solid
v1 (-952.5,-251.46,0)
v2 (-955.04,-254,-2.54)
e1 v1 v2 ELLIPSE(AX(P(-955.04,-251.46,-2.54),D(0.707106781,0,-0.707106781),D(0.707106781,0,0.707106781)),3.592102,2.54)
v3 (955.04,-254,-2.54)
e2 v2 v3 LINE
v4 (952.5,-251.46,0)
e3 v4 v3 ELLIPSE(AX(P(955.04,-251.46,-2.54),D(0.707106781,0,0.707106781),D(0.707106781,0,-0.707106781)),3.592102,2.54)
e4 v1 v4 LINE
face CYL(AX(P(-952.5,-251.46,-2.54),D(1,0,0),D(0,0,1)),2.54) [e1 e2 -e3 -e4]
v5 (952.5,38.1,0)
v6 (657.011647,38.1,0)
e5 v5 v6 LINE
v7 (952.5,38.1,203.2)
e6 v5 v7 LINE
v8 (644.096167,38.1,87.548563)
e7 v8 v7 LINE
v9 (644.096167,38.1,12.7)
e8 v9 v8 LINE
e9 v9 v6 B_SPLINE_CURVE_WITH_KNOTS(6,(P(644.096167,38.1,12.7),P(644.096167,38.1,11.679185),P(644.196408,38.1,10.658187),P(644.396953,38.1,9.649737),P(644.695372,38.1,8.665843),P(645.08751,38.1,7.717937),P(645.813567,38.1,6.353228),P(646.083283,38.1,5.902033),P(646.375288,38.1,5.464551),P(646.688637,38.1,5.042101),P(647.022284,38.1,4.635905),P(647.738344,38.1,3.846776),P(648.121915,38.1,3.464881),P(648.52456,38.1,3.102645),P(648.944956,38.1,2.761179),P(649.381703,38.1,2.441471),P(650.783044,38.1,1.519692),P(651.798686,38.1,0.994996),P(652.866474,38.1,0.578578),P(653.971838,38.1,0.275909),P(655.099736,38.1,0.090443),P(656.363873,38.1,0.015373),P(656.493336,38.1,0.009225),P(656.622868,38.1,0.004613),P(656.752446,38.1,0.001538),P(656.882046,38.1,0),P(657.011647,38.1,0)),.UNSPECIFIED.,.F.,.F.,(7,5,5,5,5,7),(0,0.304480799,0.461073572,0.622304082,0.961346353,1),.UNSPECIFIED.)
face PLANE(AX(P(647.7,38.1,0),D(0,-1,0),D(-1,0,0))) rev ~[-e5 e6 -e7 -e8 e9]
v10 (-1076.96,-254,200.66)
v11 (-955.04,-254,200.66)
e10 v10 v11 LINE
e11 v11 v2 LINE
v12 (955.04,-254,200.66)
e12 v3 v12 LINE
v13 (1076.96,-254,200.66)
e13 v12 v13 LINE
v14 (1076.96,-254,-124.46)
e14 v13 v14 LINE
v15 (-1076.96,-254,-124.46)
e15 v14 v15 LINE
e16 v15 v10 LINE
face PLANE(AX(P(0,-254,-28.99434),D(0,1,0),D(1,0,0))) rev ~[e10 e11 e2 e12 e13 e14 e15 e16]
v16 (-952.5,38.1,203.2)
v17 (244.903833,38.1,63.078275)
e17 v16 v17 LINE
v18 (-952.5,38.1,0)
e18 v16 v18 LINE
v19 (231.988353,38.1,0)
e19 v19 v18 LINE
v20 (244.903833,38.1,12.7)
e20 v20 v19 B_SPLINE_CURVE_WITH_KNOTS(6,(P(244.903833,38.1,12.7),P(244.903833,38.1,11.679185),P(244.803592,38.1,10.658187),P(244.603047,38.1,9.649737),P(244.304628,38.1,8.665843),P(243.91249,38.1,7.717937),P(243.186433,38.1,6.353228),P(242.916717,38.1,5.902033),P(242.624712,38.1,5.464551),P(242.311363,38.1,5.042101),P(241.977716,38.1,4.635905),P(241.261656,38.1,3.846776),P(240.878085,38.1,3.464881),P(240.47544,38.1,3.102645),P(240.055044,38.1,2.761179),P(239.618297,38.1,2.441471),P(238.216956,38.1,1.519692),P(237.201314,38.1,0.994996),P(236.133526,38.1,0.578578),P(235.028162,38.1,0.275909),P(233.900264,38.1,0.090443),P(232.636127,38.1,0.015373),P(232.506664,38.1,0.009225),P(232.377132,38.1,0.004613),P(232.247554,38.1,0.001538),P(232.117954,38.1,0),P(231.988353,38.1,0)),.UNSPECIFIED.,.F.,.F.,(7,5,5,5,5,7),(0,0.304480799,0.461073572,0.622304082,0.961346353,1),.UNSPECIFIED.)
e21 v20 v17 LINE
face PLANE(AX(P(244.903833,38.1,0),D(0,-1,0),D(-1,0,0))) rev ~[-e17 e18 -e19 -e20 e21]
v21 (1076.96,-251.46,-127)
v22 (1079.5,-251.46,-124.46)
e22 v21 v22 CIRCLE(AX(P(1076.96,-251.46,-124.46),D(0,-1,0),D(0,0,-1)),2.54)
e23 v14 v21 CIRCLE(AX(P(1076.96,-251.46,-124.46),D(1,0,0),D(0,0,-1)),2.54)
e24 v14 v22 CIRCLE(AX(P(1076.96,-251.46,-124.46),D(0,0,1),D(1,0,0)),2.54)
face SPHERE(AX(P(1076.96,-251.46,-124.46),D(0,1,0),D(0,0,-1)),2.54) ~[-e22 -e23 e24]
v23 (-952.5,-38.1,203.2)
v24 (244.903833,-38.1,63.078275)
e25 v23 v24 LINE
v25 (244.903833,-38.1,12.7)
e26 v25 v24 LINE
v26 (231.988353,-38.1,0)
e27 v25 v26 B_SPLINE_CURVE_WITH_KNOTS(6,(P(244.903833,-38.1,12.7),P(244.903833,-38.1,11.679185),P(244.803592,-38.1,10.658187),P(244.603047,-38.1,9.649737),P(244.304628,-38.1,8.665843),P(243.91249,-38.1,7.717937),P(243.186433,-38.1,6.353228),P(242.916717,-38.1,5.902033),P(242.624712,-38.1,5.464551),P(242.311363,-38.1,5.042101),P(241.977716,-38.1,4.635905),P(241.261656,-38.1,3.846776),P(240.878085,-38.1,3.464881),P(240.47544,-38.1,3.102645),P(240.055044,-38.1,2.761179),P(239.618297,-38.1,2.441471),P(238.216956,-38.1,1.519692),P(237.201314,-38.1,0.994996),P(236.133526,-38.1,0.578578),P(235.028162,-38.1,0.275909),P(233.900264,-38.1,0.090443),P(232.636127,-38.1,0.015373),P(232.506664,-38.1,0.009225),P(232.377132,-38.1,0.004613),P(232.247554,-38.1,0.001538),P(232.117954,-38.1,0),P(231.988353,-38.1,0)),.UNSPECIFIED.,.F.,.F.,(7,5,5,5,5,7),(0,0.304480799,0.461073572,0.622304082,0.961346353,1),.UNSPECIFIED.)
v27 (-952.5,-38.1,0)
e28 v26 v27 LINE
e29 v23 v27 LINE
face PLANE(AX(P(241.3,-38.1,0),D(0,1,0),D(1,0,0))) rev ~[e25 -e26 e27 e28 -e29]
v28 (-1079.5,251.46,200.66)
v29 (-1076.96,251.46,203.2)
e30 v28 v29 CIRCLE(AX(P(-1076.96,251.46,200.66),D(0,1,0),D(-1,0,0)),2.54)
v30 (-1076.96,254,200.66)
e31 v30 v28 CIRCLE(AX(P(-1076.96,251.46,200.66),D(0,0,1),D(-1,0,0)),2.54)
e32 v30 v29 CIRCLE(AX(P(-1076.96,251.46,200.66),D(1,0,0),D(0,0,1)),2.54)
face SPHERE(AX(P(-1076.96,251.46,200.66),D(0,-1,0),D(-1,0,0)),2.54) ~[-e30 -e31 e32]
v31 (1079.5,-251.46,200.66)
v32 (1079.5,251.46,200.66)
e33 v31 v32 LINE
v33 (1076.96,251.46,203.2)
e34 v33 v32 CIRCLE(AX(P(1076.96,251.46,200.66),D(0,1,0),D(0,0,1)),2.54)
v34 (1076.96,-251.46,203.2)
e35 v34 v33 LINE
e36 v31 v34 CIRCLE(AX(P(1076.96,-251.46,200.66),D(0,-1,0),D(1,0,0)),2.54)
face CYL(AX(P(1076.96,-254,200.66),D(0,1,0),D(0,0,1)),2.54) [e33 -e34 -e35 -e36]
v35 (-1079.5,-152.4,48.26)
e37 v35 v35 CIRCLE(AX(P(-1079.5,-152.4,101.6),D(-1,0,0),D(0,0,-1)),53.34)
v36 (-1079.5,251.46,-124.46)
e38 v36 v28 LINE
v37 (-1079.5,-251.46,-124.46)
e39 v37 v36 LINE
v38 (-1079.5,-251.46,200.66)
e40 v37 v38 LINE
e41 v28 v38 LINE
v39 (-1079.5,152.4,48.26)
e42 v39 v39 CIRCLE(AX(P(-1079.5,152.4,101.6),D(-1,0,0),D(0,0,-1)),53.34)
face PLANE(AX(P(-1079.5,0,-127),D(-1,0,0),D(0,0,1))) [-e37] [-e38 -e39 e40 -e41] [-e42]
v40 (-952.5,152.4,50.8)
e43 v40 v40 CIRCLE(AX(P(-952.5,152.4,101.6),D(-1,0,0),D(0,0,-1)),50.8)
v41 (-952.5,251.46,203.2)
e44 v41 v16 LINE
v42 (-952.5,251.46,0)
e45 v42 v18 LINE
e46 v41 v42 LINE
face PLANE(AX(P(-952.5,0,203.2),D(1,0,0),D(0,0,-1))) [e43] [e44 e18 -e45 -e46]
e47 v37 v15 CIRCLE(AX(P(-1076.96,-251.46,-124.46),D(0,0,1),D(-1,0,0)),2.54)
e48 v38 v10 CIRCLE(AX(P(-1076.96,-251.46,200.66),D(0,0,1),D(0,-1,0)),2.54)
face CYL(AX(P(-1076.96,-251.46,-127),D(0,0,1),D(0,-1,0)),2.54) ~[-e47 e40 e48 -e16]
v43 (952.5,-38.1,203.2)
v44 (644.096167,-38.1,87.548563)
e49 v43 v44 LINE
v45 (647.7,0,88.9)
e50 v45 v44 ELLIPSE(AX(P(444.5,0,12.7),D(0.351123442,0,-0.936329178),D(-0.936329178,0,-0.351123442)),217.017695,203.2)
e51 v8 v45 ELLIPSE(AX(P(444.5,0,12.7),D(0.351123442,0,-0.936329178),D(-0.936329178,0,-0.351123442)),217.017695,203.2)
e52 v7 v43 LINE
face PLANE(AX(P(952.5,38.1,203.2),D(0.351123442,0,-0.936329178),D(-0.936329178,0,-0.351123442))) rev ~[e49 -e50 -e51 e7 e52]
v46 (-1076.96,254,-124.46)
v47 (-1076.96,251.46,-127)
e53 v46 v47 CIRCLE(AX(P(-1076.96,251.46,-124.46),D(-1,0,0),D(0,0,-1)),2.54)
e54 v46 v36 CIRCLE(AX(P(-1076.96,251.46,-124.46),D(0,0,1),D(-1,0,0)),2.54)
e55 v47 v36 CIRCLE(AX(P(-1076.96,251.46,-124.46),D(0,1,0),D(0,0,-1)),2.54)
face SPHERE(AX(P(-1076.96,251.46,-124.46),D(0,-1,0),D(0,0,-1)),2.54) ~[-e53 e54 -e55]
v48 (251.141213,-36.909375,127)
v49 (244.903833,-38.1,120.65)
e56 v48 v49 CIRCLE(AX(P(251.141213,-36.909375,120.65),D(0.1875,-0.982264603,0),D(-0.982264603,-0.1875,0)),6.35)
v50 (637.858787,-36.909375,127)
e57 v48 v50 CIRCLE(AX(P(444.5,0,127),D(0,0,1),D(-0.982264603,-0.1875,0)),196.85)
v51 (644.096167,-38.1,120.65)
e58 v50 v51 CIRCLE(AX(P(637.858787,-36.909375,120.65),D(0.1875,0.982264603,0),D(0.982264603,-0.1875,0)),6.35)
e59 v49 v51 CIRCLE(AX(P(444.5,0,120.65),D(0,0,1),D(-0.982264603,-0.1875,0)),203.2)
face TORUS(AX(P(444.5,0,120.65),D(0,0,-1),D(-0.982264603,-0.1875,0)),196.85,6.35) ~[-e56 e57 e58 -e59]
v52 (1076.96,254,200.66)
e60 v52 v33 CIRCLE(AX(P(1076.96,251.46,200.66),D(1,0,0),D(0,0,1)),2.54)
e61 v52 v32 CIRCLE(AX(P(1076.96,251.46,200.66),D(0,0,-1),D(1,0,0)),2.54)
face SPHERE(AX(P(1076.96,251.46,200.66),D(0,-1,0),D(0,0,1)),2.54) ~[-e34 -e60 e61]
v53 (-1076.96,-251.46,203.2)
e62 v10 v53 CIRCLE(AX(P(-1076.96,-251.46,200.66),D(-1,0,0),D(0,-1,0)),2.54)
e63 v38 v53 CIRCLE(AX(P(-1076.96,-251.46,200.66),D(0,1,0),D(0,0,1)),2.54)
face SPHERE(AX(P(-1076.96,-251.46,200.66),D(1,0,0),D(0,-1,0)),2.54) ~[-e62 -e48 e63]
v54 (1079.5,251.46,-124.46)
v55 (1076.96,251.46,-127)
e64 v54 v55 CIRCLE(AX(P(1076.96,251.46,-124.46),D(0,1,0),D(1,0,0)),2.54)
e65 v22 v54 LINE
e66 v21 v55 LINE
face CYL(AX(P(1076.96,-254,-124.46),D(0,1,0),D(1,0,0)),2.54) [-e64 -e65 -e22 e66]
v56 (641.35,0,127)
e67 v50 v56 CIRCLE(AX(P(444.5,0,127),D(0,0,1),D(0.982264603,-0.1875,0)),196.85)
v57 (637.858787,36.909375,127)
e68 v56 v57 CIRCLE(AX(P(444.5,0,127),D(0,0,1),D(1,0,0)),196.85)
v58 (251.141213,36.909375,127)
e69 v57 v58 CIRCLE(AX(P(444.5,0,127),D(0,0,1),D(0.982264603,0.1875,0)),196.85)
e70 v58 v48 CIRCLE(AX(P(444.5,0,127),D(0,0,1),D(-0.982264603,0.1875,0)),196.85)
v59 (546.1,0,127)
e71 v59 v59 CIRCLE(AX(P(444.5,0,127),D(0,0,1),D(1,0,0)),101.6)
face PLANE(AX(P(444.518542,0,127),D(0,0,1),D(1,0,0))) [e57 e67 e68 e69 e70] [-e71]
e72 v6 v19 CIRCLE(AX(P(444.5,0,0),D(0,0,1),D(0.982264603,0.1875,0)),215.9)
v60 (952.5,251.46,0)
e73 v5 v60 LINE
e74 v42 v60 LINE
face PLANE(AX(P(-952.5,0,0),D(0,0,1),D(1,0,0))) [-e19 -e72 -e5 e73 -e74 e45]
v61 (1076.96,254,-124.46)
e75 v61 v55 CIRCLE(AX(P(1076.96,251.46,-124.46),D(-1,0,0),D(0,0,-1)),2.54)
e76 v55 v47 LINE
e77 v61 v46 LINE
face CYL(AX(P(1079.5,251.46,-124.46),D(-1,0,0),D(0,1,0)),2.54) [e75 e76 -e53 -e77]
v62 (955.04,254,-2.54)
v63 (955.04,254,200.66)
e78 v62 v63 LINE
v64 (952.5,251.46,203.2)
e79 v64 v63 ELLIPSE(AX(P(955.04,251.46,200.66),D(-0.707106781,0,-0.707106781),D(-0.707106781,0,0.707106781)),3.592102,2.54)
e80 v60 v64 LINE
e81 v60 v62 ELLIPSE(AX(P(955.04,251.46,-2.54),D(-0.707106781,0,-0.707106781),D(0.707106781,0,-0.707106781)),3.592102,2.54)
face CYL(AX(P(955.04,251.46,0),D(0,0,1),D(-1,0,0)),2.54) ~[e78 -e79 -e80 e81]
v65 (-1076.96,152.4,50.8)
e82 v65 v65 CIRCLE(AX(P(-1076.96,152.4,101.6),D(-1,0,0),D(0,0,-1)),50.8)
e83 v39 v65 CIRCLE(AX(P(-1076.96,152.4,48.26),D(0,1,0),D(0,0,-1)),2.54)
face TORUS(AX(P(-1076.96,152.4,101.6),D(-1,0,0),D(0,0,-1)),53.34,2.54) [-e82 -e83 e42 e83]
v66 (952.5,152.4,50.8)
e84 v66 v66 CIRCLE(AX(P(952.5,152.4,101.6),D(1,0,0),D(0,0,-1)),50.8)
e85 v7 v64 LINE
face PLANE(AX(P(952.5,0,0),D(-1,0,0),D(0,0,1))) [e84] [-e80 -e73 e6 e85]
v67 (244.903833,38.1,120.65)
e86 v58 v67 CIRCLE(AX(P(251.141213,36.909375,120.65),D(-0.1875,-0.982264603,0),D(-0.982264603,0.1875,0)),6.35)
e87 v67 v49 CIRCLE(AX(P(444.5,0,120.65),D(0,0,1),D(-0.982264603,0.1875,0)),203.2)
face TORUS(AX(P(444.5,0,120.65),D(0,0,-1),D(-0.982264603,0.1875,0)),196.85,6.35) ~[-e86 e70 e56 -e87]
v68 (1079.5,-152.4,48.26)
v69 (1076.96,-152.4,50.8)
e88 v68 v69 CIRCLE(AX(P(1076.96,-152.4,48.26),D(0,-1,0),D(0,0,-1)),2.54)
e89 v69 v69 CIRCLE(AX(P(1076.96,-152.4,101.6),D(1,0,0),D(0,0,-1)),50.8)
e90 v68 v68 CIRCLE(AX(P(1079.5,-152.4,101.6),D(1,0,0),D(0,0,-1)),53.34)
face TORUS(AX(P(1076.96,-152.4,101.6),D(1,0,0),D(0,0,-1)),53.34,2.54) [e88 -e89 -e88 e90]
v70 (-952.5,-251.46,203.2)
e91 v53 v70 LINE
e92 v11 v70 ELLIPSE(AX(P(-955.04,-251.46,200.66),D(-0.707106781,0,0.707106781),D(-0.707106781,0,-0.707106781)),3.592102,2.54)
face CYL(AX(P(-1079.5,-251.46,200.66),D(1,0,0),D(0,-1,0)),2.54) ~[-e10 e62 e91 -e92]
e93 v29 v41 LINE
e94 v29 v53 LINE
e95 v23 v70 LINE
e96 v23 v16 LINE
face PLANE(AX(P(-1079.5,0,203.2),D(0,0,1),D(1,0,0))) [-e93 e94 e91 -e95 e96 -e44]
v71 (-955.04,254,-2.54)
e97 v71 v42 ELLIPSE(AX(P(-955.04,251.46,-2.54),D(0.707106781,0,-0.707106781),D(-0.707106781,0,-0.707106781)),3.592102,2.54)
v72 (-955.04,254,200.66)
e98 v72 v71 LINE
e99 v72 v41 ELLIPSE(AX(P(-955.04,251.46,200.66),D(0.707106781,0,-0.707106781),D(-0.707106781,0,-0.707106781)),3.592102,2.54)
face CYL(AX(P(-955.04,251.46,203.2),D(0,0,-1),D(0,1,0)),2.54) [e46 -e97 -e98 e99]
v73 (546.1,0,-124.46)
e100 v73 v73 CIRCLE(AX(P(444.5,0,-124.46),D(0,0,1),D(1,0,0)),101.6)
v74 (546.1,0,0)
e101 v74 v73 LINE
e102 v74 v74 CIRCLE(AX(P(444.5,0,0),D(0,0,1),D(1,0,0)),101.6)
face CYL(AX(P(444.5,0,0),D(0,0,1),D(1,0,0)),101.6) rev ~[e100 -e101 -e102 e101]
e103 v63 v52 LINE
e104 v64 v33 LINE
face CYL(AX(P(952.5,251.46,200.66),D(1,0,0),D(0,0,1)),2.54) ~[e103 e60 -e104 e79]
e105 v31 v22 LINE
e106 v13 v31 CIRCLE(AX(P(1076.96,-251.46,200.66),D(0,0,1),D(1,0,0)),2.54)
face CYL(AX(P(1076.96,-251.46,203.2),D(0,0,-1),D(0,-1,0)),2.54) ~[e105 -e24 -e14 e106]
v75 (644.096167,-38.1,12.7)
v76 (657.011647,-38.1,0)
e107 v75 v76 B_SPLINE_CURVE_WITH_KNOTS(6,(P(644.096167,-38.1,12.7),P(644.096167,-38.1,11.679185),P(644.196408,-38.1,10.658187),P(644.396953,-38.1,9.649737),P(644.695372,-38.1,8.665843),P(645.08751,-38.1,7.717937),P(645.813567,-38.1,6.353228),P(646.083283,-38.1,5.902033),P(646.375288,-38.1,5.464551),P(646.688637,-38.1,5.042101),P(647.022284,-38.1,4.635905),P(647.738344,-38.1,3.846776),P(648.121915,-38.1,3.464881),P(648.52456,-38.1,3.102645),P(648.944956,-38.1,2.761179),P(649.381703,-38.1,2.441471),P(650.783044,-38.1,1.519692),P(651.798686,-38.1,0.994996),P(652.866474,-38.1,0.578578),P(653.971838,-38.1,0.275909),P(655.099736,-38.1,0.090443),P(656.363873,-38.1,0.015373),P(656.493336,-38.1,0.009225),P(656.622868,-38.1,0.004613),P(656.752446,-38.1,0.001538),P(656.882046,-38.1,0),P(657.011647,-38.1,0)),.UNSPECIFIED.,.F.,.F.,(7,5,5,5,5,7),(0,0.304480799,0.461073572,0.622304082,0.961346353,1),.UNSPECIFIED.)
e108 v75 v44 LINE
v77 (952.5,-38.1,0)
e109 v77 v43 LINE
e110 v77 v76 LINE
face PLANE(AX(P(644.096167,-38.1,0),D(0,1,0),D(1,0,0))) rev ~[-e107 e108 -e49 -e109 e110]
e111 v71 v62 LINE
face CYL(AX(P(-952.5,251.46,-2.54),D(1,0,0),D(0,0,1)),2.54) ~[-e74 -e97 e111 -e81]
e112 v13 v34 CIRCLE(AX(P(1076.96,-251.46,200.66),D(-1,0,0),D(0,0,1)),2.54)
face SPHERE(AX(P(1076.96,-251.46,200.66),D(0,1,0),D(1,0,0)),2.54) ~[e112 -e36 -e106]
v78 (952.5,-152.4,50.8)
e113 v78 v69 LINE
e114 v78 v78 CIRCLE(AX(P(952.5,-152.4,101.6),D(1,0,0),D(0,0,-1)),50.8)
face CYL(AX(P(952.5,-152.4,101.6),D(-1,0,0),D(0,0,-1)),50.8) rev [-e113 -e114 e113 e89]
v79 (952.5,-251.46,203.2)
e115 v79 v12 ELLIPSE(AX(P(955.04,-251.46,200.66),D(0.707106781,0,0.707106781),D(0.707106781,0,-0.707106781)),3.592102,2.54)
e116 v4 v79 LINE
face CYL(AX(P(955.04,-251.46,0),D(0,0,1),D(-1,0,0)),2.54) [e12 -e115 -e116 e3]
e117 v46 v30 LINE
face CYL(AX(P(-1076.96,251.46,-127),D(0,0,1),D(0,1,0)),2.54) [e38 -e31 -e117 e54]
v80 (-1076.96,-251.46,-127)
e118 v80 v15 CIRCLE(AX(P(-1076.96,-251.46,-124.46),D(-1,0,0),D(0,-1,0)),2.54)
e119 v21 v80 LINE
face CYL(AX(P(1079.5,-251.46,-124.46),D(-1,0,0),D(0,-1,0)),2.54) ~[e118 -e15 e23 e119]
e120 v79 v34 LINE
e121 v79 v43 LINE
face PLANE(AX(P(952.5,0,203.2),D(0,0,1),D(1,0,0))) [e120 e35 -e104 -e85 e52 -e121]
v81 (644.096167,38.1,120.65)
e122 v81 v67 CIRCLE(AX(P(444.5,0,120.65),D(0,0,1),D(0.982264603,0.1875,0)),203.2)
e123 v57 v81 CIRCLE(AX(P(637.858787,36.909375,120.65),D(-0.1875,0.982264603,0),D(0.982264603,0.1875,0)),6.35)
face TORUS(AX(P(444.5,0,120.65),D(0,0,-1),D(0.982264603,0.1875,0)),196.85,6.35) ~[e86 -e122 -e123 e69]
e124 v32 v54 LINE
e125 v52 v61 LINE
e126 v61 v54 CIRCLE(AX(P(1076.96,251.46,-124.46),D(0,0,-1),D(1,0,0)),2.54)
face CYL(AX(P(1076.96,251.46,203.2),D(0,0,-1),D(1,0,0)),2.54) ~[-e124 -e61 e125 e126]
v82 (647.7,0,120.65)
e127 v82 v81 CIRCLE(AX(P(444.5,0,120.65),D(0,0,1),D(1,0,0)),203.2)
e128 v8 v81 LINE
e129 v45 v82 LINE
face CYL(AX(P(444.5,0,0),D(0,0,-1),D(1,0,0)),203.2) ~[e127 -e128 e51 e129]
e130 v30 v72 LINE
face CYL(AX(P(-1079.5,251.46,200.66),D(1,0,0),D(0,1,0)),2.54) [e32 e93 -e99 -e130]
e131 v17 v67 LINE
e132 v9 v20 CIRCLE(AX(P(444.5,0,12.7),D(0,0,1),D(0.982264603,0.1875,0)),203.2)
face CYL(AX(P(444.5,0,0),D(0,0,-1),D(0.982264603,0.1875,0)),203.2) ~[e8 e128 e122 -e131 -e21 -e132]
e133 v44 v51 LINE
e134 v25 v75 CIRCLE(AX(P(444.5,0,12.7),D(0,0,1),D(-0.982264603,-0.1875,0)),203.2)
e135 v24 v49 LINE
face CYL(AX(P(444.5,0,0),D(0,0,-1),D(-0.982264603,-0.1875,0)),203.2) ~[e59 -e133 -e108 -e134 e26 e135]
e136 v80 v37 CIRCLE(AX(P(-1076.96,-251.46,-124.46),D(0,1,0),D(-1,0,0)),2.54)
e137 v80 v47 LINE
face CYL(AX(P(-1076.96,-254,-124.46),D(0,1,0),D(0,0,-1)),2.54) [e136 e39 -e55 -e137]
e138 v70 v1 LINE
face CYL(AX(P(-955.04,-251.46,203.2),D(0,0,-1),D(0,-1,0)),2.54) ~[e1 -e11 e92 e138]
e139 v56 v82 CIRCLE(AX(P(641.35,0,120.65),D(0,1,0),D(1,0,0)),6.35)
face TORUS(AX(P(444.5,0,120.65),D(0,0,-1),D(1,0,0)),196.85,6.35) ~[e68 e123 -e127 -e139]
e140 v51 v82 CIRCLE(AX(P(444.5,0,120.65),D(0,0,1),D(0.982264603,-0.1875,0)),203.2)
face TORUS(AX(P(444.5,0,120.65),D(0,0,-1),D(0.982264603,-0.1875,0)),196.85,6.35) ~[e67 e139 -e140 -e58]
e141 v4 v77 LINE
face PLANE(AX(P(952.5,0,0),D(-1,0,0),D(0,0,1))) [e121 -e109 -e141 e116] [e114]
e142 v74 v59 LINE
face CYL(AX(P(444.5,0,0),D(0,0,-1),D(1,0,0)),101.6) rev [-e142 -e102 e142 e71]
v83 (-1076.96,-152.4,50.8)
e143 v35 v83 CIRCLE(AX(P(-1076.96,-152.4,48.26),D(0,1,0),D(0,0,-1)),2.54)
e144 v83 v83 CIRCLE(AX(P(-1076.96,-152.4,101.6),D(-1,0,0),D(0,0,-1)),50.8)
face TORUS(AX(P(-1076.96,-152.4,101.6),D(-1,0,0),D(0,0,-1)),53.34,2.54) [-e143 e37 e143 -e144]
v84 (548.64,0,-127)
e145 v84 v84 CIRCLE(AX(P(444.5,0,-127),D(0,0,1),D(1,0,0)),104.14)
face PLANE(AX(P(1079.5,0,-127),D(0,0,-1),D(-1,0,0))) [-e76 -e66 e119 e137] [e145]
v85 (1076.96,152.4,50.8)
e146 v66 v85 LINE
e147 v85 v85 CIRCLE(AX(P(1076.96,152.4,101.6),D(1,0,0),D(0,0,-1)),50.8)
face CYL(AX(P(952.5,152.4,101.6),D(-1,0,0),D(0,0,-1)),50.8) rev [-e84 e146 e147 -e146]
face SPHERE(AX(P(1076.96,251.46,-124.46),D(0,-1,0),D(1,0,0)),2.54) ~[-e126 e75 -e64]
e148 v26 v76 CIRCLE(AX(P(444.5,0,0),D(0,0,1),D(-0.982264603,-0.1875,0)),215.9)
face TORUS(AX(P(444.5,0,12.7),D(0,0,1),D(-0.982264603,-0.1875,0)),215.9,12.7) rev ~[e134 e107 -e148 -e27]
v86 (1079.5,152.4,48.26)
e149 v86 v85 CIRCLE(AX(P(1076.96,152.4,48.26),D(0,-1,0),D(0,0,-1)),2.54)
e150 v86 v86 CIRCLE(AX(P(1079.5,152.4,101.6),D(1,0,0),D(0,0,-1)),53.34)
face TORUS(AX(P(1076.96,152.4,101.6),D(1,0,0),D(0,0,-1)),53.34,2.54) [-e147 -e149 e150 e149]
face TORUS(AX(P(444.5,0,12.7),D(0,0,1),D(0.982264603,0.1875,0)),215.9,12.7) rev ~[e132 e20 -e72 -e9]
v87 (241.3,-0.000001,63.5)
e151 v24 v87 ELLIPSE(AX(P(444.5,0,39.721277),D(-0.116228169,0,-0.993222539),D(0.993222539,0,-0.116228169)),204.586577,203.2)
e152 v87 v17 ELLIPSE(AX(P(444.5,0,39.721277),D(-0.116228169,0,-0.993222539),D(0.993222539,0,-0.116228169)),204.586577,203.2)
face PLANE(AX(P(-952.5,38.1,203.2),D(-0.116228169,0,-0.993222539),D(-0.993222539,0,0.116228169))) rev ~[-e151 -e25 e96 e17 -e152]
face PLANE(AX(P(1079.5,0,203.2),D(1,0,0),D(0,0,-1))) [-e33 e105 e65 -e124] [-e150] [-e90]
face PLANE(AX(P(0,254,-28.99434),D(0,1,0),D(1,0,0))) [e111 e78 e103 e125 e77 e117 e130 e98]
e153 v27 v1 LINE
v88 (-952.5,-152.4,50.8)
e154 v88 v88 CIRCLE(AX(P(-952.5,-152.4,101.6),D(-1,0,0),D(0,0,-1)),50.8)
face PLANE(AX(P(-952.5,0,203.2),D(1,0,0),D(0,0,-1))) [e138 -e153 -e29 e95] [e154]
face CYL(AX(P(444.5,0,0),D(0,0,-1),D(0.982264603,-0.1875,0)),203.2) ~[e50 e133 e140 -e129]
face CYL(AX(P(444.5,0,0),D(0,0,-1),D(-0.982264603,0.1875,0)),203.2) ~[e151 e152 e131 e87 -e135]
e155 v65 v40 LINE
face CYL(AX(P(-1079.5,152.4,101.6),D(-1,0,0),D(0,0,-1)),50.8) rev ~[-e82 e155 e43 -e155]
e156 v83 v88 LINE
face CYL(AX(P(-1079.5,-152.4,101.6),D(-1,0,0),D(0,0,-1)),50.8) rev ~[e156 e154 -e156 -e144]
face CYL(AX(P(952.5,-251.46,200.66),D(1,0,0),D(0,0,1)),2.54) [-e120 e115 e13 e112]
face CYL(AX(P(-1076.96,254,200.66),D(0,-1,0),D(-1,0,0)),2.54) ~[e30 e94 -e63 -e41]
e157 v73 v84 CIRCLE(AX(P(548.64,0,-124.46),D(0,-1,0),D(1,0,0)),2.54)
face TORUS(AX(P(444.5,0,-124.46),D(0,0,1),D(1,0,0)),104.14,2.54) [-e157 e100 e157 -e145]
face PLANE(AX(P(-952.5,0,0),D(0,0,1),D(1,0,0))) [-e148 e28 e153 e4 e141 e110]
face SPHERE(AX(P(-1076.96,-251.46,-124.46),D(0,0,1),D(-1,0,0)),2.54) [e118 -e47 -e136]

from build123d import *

# Parameters (mm, degrees)
BOSS_EXTRUDE1_DEPTH  = 254
BOSS_EXTRUDE2_DEPTH  = 38.1
SKETCH4_R            = 101.6
CUT_EXTRUDE1_DEPTH   = 1128.442455294
BOSS_EXTRUDE11_REACH = 1129.442
BOSS_EXTRUDE12_REACH = 1129.442
SKETCH12_R           = 101.6
BOSS_EXTRUDE13_DEPTH = 127
CUT_EXTRUDE3_START   = -127
SKETCH19_R           = 50.8
CUT_EXTRUDE3_DEPTH   = 127
SKETCH21_R           = 50.8
CUT_EXTRUDE4_DEPTH   = 127
FILLET1_R            = 2.54
FILLET2_R            = 6.35
FILLET3_R            = 12.7


with BuildPart() as part:
    # Sketch1 → Boss-Extrude1 (new, symmetric)
    with BuildSketch(Plane(origin=(0, 0, 0), x_dir=(1, 0, 0), z_dir=(0, 1, 0))):
        Polygon((-952.5, 0), (952.5, 0), (952.5, -203.2), (1079.5, -203.2), (1079.5, 127), (-1079.5, 127), (-1079.5, -203.2), (-952.5, -203.2), align=None)
    extrude(amount=BOSS_EXTRUDE1_DEPTH, both=True)

    # Sketch2 → Boss-Extrude2 (add, symmetric)
    with BuildSketch(Plane(origin=(0, 0, 0), x_dir=(1, 0, 0), z_dir=(0, 1, 0))):
        Polygon((-952.5, -203.2), (-952.5, 0), (241.3, 0), (241.3, -63.5), align=None)
        Polygon((952.5, 0), (952.5, -203.2), (647.7, -88.9), (647.7, 0), align=None)
    extrude(amount=BOSS_EXTRUDE2_DEPTH, both=True)

    # Sketch4 → Cut-Extrude1 (cut, through all)
    with BuildSketch(Plane.XY):
        with Locations((444.5, 0)):
            Circle(SKETCH4_R)
    extrude(amount=-CUT_EXTRUDE1_DEPTH, mode=Mode.SUBTRACT)

    # Boss-Extrude11: up to this plane
    boss_extrude11_end = Plane(origin=(-952.5, 38.1, 203.2), z_dir=(-0.11622816949504458, 0, -0.9932225393212899))
    # Sketch10 → Boss-Extrude11 (add, up to the surface)
    with BuildSketch(Plane.XY, mode=Mode.PRIVATE) as boss_extrude11_sk1:
        with BuildLine():
            Line((244.903832702, 38.1), (241.3, 38.1))
            Line((241.3, 38.1), (241.3, -8.24e-07))
            ThreePointArc((241.3, -8.24e-07), (242.202964398, 19.135030359), (244.903832702, 38.1))
        make_face()
    boss_extrude11_tool1 = split(extrude(boss_extrude11_sk1.sketch, amount=BOSS_EXTRUDE11_REACH, mode=Mode.PRIVATE), bisect_by=boss_extrude11_end, keep=Keep.BOTH, mode=Mode.PRIVATE)
    add(boss_extrude11_tool1.solids().sort_by_distance((242.379486, 28.591974, 0))[0])
    # Sketch10 → Boss-Extrude11 (add, up to the surface)
    with BuildSketch(Plane.XY, mode=Mode.PRIVATE) as boss_extrude11_sk2:
        with BuildLine():
            ThreePointArc((244.903832702, -38.1), (242.202964476, -19.13503118), (241.3, -8.24e-07))
            Line((241.3, -8.24e-07), (241.3, -38.1))
            Line((241.3, -38.1), (244.903832702, -38.1))
        make_face()
    boss_extrude11_tool2 = split(extrude(boss_extrude11_sk2.sketch, amount=BOSS_EXTRUDE11_REACH, mode=Mode.PRIVATE), bisect_by=boss_extrude11_end, keep=Keep.BOTH, mode=Mode.PRIVATE)
    add(boss_extrude11_tool2.solids().sort_by_distance((242.379486, -28.591974, 0))[0])

    # Boss-Extrude12: up to this plane
    boss_extrude12_end = Plane(origin=(952.5, 38.1, 203.2), z_dir=(0.3511234415883917, 0, -0.9363291775690445))
    # Sketch11 → Boss-Extrude12 (add, up to the surface)
    with BuildSketch(Plane.XY, mode=Mode.PRIVATE) as boss_extrude12_sk1:
        with BuildLine():
            Line((647.7, 0), (647.7, 38.1))
            Line((647.7, 38.1), (644.096167298, 38.1))
            ThreePointArc((644.096167298, 38.1), (646.797035563, 19.135030769), (647.7, 0))
        make_face()
    boss_extrude12_tool1 = split(extrude(boss_extrude12_sk1.sketch, amount=BOSS_EXTRUDE12_REACH, mode=Mode.PRIVATE), bisect_by=boss_extrude12_end, keep=Keep.BOTH, mode=Mode.PRIVATE)
    add(boss_extrude12_tool1.solids().sort_by_distance((646.620514, 28.591974, 0))[0])
    # Sketch11 → Boss-Extrude12 (add, up to the surface)
    with BuildSketch(Plane.XY, mode=Mode.PRIVATE) as boss_extrude12_sk2:
        with BuildLine():
            Line((647.7, -38.1), (647.7, 0))
            ThreePointArc((647.7, 0), (646.797035563, -19.135030769), (644.096167298, -38.1))
            Line((644.096167298, -38.1), (647.7, -38.1))
        make_face()
    boss_extrude12_tool2 = split(extrude(boss_extrude12_sk2.sketch, amount=BOSS_EXTRUDE12_REACH, mode=Mode.PRIVATE), bisect_by=boss_extrude12_end, keep=Keep.BOTH, mode=Mode.PRIVATE)
    add(boss_extrude12_tool2.solids().sort_by_distance((646.620514, -28.591974, 0))[0])

    # Sketch12 → Boss-Extrude13 (add)
    with BuildSketch(Plane.XY):
        with BuildLine():
            ThreePointArc((644.096167298, -38.1), (646.797035563, -19.135030769), (647.7, 0))
            ThreePointArc((647.7, 0), (646.797035563, 19.135030769), (644.096167298, 38.1))
            ThreePointArc((644.096167298, 38.1), (444.5, 203.2), (244.903832702, 38.1))
            ThreePointArc((244.903832702, 38.1), (241.3, 0), (244.903832702, -38.1))
            ThreePointArc((244.903832702, -38.1), (444.5, -203.2), (644.096167298, -38.1))
        make_face()
        with Locations((444.5, 0)):
            Circle(SKETCH12_R, mode=Mode.SUBTRACT)
    extrude(amount=BOSS_EXTRUDE13_DEPTH)

    # Sketch19 → Cut-Extrude3 (cut)
    with BuildSketch(Plane(origin=(1079.5, 0, 0), x_dir=(0, 0, -1), z_dir=(1, 0, 0)).offset(CUT_EXTRUDE3_START)):
        with Locations((-101.6, 152.4)):
            Circle(SKETCH19_R)
        with Locations((-101.6, -152.4)):
            Circle(SKETCH19_R)
    extrude(amount=CUT_EXTRUDE3_DEPTH, mode=Mode.SUBTRACT)

    # Sketch21 → Cut-Extrude4 (cut)
    with BuildSketch(Plane.ZY.offset(1079.5)):
        with Locations(Location((101.6, 152.4, 0), (0, 0, 180))):
            Circle(SKETCH21_R)
        with Locations(Location((101.6, -152.4, 0), (0, 0, 180))):
            Circle(SKETCH21_R)
    extrude(amount=-CUT_EXTRUDE4_DEPTH, mode=Mode.SUBTRACT)

    # Fillet1
    fillet1_edges = [part.edges().sort_by_distance(p)[0] for p in [
        (0, -254, 0),
        (-952.5, -254, 101.6),
        (-1016, -254, 203.2),
        (-1079.5, -254, 38.1),
        (1079.5, 152.4, 152.4),
        (1079.5, -152.4, 152.4),
        (-1079.5, 152.4, 152.4),
        (-1079.5, -152.4, 152.4),
        (-952.5, 254, 101.6),
        (-1079.5, 0, -127),
        (1079.5, 0, -127),
        (1079.5, 0, 203.2),
        (-1079.5, 0, 203.2),
        (0, 254, 0),
        (952.5, 254, 101.6),
        (1016, 254, 203.2),
        (1079.5, 254, 38.1),
        (0, 254, -127),
        (-1079.5, 254, 38.1),
        (342.9, 0, -127),
        (0, -254, -127),
        (-1016, 254, 203.2),
        (1079.5, -254, 38.1),
        (1016, -254, 203.2),
        (952.5, -254, 101.6),
    ]]
    fillet(fillet1_edges, radius=FILLET1_R)

    # Fillet2
    fillet2_edges = [part.edges().sort_by_distance(p)[0] for p in [
        (241.3, 0, 127),
    ]]
    fillet(fillet2_edges, radius=FILLET2_R)

    # Fillet3
    fillet3_edges = [part.edges().sort_by_distance(p)[0] for p in [
        (444.5, -203.2, 0),
        (444.5, 203.2, 0),
    ]]
    fillet(fillet3_edges, radius=FILLET3_R)


solid = part.part
